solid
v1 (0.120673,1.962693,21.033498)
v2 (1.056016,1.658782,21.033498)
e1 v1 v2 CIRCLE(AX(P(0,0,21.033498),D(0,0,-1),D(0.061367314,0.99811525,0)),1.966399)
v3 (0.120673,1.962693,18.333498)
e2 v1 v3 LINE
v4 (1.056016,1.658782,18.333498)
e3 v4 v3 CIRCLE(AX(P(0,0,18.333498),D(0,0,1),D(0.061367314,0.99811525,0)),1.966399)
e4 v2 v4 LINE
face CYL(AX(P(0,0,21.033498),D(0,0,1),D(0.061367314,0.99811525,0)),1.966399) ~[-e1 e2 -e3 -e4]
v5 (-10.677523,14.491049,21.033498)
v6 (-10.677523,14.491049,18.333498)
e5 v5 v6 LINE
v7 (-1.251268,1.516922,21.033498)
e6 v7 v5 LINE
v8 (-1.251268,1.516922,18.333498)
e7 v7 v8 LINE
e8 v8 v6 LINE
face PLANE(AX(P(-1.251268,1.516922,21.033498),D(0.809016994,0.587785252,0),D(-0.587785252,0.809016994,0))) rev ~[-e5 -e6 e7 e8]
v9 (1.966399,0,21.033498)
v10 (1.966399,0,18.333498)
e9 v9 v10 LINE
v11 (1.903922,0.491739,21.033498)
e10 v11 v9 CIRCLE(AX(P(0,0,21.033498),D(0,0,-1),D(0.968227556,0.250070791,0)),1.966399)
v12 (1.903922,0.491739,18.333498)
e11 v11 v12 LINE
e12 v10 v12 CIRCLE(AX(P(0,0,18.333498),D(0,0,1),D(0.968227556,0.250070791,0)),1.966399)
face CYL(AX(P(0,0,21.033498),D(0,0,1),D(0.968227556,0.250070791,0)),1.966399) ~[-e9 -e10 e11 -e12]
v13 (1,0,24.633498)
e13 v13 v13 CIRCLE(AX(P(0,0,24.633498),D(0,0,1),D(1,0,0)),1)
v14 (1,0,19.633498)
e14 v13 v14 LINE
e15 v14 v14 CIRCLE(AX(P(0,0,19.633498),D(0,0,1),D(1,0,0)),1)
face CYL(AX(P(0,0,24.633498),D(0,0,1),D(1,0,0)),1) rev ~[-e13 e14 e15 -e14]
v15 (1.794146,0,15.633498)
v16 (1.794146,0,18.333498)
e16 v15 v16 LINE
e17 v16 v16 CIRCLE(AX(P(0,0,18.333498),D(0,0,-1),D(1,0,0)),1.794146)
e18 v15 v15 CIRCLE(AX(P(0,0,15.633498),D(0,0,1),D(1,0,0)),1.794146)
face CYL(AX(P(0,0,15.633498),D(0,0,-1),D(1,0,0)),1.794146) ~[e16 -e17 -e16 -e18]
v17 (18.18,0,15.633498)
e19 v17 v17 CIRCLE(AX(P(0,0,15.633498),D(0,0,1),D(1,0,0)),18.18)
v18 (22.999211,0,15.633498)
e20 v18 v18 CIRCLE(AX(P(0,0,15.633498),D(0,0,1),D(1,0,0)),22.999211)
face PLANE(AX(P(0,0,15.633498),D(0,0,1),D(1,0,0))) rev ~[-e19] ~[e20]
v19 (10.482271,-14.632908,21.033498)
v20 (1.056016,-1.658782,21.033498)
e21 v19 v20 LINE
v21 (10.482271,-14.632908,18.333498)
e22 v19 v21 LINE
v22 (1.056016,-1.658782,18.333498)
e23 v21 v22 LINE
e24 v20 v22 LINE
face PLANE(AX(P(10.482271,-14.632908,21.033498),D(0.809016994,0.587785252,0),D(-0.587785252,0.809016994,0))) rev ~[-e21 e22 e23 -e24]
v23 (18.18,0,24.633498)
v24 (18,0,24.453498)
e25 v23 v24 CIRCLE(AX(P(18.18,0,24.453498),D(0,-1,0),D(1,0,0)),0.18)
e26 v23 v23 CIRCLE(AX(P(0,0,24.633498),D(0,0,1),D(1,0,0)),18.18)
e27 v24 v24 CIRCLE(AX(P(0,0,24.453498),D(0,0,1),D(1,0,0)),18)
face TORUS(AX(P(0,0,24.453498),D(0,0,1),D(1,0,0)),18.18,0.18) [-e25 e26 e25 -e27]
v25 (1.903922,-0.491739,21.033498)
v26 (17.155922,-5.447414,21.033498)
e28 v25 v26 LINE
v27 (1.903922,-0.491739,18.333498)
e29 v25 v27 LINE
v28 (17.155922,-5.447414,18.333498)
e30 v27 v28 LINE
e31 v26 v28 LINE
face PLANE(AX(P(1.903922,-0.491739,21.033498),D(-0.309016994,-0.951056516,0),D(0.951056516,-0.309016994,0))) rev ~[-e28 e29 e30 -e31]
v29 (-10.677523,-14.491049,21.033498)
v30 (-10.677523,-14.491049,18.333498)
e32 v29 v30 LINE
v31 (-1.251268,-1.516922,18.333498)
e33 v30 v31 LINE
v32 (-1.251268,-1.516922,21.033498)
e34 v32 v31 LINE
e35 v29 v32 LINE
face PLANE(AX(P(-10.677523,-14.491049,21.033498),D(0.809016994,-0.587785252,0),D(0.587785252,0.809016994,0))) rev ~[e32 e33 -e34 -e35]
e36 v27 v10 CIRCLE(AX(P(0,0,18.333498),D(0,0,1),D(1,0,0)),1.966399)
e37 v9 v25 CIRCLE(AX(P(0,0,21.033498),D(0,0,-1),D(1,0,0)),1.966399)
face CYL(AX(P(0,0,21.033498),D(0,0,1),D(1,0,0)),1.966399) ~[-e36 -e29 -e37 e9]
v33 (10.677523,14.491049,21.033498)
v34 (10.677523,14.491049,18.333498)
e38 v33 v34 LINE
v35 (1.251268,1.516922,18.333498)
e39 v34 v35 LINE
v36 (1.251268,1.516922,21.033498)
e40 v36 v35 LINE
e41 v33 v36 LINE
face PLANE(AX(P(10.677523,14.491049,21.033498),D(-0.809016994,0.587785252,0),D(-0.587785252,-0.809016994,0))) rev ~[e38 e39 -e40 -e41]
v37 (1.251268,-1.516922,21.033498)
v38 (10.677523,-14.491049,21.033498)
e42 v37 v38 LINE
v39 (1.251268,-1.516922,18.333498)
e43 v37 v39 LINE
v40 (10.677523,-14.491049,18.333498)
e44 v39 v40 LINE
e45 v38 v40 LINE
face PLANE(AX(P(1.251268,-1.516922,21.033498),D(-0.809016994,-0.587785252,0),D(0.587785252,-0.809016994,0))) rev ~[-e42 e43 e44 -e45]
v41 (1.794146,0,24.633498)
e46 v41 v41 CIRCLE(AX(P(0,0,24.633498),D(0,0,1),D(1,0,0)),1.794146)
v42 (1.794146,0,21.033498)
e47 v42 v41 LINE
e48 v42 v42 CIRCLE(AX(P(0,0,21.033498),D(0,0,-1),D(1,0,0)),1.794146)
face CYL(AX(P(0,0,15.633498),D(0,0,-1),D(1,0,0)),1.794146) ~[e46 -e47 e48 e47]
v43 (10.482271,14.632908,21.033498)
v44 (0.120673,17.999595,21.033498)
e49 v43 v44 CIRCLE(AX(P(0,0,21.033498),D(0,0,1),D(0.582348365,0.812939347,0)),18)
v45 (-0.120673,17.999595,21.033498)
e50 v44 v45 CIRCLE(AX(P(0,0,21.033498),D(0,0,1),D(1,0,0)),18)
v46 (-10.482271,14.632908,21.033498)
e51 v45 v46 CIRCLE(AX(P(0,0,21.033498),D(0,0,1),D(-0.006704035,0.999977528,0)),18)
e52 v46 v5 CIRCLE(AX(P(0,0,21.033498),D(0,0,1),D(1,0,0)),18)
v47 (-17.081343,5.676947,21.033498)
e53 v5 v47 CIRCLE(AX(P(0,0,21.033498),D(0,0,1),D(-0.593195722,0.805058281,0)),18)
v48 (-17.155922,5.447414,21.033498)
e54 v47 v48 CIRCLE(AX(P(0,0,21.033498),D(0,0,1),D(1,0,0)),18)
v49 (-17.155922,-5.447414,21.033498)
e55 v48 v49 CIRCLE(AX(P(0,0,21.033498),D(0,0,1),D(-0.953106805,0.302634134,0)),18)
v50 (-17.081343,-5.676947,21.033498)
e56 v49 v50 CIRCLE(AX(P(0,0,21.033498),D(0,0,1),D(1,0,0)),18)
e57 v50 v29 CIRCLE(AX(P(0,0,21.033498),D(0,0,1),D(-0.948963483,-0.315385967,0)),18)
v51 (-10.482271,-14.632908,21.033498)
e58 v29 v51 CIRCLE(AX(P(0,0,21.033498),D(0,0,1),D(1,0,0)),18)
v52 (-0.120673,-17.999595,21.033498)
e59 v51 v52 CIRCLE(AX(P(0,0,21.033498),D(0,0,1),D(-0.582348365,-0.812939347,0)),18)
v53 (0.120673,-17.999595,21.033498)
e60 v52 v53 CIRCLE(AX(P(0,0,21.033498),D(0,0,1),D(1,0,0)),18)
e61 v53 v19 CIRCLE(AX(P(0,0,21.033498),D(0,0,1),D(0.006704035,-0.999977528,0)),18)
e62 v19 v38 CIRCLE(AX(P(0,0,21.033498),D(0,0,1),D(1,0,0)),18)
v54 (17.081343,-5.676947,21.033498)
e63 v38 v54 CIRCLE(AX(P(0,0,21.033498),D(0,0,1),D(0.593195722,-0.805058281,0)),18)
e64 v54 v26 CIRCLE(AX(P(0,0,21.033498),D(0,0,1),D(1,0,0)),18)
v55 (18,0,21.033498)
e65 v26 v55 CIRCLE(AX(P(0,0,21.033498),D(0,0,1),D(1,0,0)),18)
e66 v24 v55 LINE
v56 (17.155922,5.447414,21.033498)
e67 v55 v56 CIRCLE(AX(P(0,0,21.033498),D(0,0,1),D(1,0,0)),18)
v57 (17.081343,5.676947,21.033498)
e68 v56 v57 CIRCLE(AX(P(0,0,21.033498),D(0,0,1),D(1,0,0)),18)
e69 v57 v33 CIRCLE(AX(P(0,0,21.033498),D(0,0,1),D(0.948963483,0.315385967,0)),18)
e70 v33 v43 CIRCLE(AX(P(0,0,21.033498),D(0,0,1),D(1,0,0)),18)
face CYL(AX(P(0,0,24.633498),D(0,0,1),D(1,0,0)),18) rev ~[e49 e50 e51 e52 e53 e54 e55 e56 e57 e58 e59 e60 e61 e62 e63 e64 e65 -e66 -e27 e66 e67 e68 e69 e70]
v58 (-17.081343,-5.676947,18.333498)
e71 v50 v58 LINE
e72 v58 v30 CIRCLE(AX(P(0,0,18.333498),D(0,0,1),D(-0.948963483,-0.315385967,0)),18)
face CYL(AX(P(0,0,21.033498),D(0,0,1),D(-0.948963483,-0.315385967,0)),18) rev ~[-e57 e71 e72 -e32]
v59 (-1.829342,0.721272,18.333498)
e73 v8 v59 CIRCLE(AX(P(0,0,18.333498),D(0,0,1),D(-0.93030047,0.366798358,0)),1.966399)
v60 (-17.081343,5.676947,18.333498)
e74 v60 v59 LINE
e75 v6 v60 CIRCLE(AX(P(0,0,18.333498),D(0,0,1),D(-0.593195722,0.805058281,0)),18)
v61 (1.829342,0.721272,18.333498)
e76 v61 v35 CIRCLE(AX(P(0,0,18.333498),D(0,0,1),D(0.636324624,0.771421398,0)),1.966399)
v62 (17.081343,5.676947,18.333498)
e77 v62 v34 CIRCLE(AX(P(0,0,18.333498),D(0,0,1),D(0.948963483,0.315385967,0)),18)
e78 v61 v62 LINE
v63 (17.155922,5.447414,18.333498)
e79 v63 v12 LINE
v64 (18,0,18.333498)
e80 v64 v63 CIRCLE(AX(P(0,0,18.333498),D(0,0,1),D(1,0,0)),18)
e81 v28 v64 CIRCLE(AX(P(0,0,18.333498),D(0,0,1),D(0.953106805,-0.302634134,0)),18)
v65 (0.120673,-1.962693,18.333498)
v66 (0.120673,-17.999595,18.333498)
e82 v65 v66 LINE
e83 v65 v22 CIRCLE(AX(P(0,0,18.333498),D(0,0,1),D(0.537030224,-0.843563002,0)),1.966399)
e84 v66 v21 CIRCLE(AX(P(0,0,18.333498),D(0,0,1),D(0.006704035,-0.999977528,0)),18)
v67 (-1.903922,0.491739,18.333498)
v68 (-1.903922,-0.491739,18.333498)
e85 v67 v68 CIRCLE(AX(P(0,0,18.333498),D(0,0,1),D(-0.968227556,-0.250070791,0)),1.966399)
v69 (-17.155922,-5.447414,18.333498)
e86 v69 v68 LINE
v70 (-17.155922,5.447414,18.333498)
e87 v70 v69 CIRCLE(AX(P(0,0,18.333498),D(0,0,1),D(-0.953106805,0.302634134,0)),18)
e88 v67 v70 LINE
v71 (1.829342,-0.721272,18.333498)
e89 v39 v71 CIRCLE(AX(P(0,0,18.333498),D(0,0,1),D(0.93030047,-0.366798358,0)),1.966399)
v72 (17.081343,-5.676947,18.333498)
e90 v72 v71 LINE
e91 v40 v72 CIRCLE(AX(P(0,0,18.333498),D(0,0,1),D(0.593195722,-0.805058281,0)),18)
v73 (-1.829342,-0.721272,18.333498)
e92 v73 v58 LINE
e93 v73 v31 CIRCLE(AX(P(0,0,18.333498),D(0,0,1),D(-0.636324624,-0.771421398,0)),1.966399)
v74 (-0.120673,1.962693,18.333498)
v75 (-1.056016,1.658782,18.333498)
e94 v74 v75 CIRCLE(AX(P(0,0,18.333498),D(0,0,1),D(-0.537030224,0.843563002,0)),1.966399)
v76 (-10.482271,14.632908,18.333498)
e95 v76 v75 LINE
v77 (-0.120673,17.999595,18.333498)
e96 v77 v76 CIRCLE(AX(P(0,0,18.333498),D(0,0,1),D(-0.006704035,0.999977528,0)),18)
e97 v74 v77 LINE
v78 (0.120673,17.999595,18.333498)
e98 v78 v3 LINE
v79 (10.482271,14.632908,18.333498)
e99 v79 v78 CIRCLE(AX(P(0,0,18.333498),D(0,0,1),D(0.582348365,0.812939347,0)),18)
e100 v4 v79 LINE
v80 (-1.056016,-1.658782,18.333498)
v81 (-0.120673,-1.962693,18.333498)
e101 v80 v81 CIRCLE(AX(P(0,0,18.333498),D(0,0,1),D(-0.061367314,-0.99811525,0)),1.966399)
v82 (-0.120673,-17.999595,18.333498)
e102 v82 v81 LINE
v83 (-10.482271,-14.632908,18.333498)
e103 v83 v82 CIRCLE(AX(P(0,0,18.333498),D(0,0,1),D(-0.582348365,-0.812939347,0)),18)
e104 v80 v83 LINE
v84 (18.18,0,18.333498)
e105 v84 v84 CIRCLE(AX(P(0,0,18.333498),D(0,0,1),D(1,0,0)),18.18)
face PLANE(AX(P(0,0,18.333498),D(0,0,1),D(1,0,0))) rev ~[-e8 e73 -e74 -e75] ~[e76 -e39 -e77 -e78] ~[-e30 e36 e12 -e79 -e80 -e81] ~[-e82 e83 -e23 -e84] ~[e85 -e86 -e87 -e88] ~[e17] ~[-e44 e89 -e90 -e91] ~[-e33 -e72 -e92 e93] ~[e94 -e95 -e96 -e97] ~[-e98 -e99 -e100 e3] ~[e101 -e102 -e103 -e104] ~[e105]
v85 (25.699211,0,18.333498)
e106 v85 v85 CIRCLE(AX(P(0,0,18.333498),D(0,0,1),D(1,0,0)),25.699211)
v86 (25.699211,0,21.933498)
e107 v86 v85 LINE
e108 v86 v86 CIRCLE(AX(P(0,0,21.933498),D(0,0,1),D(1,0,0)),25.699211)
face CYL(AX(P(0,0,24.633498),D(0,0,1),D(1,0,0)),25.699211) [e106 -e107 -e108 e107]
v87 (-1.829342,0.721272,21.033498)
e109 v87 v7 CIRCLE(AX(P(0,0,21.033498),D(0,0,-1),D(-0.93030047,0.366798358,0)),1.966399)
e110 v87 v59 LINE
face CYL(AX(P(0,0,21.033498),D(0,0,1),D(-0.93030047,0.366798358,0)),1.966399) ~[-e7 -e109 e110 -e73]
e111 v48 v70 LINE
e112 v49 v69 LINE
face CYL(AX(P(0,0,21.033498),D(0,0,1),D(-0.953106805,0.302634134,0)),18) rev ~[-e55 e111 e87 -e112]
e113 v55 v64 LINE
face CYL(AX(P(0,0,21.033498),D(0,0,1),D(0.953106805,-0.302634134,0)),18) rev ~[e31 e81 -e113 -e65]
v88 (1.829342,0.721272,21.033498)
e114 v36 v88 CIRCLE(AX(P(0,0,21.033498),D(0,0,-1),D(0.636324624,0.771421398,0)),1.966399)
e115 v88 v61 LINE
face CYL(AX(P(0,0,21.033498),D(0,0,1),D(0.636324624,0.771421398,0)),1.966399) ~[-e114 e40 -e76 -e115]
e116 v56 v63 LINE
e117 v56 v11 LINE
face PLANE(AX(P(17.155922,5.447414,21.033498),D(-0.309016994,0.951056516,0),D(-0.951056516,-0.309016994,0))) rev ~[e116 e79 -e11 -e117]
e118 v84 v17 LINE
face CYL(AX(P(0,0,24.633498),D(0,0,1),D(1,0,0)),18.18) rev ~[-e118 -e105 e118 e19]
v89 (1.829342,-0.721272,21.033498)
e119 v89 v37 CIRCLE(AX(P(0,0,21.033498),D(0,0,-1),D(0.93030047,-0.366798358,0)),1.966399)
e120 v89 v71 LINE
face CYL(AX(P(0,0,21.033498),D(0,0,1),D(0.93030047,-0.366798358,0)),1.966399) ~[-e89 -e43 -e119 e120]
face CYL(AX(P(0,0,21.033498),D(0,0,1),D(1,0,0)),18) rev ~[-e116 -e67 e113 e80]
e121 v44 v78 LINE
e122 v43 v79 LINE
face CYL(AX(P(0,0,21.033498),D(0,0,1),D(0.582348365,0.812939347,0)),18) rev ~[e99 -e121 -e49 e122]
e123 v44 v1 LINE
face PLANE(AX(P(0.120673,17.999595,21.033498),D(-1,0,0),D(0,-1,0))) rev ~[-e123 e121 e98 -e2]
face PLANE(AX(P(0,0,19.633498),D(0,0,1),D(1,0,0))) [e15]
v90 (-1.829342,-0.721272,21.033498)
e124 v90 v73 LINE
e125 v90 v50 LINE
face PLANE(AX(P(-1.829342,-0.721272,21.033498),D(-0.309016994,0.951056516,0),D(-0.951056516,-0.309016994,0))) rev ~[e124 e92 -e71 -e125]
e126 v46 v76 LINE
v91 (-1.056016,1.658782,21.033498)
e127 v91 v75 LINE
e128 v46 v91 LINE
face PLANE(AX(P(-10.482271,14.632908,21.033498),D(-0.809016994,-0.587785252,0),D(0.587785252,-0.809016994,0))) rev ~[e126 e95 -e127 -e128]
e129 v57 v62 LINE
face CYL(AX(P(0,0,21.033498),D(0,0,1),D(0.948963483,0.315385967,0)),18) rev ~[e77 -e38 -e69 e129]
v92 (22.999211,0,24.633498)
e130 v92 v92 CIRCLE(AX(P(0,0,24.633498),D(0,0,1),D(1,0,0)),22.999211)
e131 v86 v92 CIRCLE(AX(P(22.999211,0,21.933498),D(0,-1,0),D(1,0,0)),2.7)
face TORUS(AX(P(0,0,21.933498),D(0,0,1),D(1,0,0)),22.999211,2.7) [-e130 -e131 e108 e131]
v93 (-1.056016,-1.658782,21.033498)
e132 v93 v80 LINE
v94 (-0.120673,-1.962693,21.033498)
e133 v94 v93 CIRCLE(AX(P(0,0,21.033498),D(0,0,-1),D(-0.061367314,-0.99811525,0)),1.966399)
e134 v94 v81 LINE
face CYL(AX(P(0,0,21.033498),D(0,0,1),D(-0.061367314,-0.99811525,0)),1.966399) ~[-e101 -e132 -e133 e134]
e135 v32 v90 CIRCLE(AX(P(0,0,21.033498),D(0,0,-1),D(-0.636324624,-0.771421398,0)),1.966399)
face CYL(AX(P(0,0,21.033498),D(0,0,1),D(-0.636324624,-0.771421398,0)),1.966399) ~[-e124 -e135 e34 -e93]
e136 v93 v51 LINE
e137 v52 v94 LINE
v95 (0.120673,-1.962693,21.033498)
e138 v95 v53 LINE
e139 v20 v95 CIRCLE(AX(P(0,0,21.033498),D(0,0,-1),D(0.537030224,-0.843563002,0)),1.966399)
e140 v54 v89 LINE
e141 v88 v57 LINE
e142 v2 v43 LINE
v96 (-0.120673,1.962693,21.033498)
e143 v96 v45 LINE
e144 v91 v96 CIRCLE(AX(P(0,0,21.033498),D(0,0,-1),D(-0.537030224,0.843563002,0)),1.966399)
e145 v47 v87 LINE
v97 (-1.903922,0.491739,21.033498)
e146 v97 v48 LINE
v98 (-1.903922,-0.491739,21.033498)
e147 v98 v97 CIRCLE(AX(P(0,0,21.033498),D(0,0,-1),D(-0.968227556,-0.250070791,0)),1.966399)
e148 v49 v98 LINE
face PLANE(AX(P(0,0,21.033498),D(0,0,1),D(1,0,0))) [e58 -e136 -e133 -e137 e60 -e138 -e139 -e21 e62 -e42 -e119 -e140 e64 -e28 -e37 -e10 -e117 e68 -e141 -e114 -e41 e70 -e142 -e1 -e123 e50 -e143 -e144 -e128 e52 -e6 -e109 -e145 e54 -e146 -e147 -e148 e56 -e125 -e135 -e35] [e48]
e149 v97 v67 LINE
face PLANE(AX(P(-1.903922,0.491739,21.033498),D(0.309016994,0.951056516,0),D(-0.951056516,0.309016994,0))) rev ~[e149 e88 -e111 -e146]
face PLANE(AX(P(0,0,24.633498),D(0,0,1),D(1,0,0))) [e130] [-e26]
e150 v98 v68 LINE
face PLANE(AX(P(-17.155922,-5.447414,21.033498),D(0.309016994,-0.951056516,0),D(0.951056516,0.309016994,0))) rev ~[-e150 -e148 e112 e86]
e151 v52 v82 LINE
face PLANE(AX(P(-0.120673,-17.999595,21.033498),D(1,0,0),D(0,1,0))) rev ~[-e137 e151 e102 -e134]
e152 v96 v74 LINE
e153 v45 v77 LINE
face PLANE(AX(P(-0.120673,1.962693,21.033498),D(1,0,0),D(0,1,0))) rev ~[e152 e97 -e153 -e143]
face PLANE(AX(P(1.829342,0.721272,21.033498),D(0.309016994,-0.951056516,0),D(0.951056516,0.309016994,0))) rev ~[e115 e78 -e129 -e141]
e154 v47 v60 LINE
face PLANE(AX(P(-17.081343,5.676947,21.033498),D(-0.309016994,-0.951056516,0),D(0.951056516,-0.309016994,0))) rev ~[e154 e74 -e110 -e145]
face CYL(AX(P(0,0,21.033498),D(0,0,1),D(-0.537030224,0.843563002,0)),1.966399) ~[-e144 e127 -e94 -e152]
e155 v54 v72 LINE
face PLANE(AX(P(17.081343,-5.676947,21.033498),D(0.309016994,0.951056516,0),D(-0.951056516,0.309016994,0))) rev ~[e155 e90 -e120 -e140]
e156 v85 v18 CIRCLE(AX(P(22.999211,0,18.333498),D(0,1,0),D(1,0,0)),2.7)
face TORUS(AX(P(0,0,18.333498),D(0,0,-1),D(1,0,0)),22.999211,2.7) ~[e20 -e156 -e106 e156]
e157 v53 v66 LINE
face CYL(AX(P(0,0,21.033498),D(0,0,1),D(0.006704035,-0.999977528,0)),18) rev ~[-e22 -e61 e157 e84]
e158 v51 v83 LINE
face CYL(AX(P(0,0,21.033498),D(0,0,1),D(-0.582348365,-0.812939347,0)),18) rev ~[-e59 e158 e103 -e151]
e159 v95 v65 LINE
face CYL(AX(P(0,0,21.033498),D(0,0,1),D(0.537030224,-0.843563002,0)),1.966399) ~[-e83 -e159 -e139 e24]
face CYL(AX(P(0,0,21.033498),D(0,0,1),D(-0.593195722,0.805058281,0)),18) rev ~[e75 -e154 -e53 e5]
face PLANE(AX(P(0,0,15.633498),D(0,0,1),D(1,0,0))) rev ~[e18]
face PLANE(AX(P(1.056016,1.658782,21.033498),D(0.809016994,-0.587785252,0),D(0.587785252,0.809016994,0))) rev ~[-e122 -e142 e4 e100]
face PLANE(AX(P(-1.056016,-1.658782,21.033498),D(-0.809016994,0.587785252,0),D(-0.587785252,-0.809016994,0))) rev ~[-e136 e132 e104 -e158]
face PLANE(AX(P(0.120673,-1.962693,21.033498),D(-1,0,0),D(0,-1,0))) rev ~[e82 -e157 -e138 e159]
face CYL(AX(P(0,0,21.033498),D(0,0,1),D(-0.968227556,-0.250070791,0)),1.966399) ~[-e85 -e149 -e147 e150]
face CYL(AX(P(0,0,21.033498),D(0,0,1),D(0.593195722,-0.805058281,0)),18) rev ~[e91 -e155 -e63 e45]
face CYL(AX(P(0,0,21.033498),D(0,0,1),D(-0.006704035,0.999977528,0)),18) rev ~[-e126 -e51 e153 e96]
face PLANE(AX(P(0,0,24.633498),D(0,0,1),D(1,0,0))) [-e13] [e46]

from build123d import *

# Parameters (mm, degrees)
CROQUIS1_R                   = 275
SALIENTE_EXTRUIR1_DEPTH      = 70
CROQUIS2_R                   = 200
CORTAR_EXTRUIR1_DEPTH        = 40
CROQUIS5_R                   = 10
CORTAR_EXTRUIR2_DEPTH        = 10
REDONDEO1_R                  = 2
CORTAR_EXTRUIR_L_MINA2_DEPTH = 396.15819617
MATRIZC1_COUNT               = 24
CORTAR_EXTRUIR3_DEPTH        = 150
SALIENTE_EXTRUIR2_DEPTH      = 50
SALIENTE_EXTRUIR2_DEPTH_BACK = 50
CROQUIS12_R                  = 19.934957438
CROQUIS14_R                  = 285.546784005
CROQUIS14_R_2                = 202
SALIENTE_EXTRUIR3_DEPTH      = 100
REDONDEO2_R                  = 30
REDONDEO3_R                  = 30
SCALE1_SCALE                 = 0.5
SCALE2_SCALE                 = 0.1
SCALE3_SCALE                 = 0.2
SCALE4_SCALE                 = 0.3
SCALE5_SCALE                 = 20
SCALE6_SCALE                 = 1.5
SKETCH1_R                    = 1
CUT_EXTRUDE1_DEPTH           = 5


with BuildPart() as part:
    # Croquis1 → Saliente-Extruir1 (new body)
    with BuildSketch(Plane.XY):
        Circle(CROQUIS1_R)
    extrude(amount=SALIENTE_EXTRUIR1_DEPTH)

    # Croquis2 → Cortar-Extruir1 (cut)
    with BuildSketch(Plane.XY.offset(70)):
        Circle(CROQUIS2_R)
    extrude(amount=-CORTAR_EXTRUIR1_DEPTH, mode=Mode.SUBTRACT)

    # Croquis5 → Cortar-Extruir2 (cut)
    with BuildSketch(Plane.XY.offset(30)):
        Circle(CROQUIS5_R)
    extrude(amount=-CORTAR_EXTRUIR2_DEPTH, mode=Mode.SUBTRACT)

    # Redondeo1
    redondeo1_edges = [part.edges().sort_by_distance(p)[0] for p in [
        (-200, 0, 70),
    ]]
    fillet(redondeo1_edges, radius=REDONDEO1_R)

    # Croquis6 → Cortar-Extruir-Lámina2 (cut, through all)
    with BuildSketch(Plane.XY.offset(70)):
        Polygon((-99.341458201, 256.429863086), (-89.226691548, 230.320640663), (-89.319938771, 230.284516496), (-99.434705424, 256.39373892), align=None)
    cortar_extruir_l_mina2 = extrude(amount=-CORTAR_EXTRUIR_L_MINA2_DEPTH, mode=Mode.SUBTRACT)

    # MatrizC1: Cortar-Extruir-Lámina2 ×24 about axis
    matrizc1_axis = Axis((0, 0, 0), (0, 0, 1))
    for i in range(1, MATRIZC1_COUNT):
        add(cortar_extruir_l_mina2.rotate(matrizc1_axis, i * 360 / MATRIZC1_COUNT), mode=Mode.SUBTRACT)

    # Croquis11 → Cortar-Extruir3 (cut)
    with BuildSketch(Plane.XY.offset(30)):
        with BuildLine():
            Line((-13.902980207, 16.854693372), (-118.639144382, 161.011656163))
            ThreePointArc((-118.639144382, 161.011656163), (-161.803398875, 117.557050458), (-189.792696605, 63.077193306))
            Line((-189.792696605, 63.077193306), (-20.326023118, 8.014133235))
            ThreePointArc((-20.326023118, 8.014133235), (-17.676115044, 12.842449309), (-13.902980207, 16.854693372))
        make_face()
        with BuildLine():
            Line((-1.340807064, 21.807700102), (-1.340807064, 199.995505541))
            ThreePointArc((-1.340807064, 199.995505541), (-61.803398875, 190.211303259), (-116.469672981, 162.587869399))
            Line((-116.469672981, 162.587869399), (-11.733508805, 18.430906609))
            ThreePointArc((-11.733508805, 18.430906609), (-6.751675158, 20.779519481), (-1.340807064, 21.807700102))
        make_face()
        with BuildLine():
            Line((11.733508805, 18.430906609), (116.469672981, 162.587869399))
            ThreePointArc((116.469672981, 162.587869399), (61.803398875, 190.211303259), (1.340807064, 199.995505541))
            Line((1.340807064, 199.995505541), (1.340807064, 21.807700102))
            ThreePointArc((1.340807064, 21.807700102), (6.751675158, 20.779519481), (11.733508805, 18.430906609))
        make_face()
        with BuildLine():
            Line((20.326023118, 8.014133235), (189.792696605, 63.077193306))
            ThreePointArc((189.792696605, 63.077193306), (161.803398875, 117.557050458), (118.639144382, 161.011656163))
            Line((118.639144382, 161.011656163), (13.902980207, 16.854693372))
            ThreePointArc((13.902980207, 16.854693372), (17.676115044, 12.842449309), (20.326023118, 8.014133235))
        make_face()
        with BuildLine():
            ThreePointArc((200, 0), (197.641433142, 30.624563763), (190.621360943, 60.526826715))
            Line((190.621360943, 60.526826715), (21.154687456, 5.463766645))
            ThreePointArc((21.154687456, 5.463766645), (21.674636908, 2.75384499), (21.848879772, 0))
            ThreePointArc((21.848879772, 0), (21.674636908, -2.75384499), (21.154687456, -5.463766645))
            Line((21.154687456, -5.463766644), (190.621360943, -60.526826715))
            ThreePointArc((190.621360943, -60.526826715), (197.641433142, -30.624563763), (200, 0))
        make_face()
        with BuildLine():
            ThreePointArc((118.639144382, -161.011656163), (161.803398875, -117.557050458), (189.792696605, -63.077193306))
            Line((189.792696605, -63.077193306), (20.326023118, -8.014133235))
            ThreePointArc((20.326023118, -8.014133235), (17.676115044, -12.842449309), (13.902980207, -16.854693372))
            Line((13.902980207, -16.854693372), (118.639144382, -161.011656163))
        make_face()
        with BuildLine():
            Line((-21.154687456, 5.463766645), (-190.621360943, 60.526826715))
            ThreePointArc((-190.621360943, 60.526826715), (-200, 0), (-190.621360943, -60.526826715))
            Line((-190.621360943, -60.526826715), (-21.154687456, -5.463766644))
            ThreePointArc((-21.154687456, -5.463766644), (-21.848879772, 0), (-21.154687456, 5.463766645))
        make_face()
        with BuildLine():
            ThreePointArc((-189.792696605, -63.077193306), (-161.803398875, -117.557050458), (-118.639144382, -161.011656163))
            Line((-118.639144382, -161.011656163), (-13.902980207, -16.854693372))
            ThreePointArc((-13.902980207, -16.854693372), (-17.676115044, -12.842449309), (-20.326023118, -8.014133235))
            Line((-20.326023118, -8.014133235), (-189.792696605, -63.077193306))
        make_face()
        with BuildLine():
            ThreePointArc((-116.469672981, -162.587869399), (-61.803398875, -190.211303259), (-1.340807064, -199.995505541))
            Line((-1.340807064, -199.995505541), (-1.340807064, -21.807700102))
            ThreePointArc((-1.340807064, -21.807700102), (-6.751675158, -20.779519481), (-11.733508805, -18.430906609))
            Line((-11.733508805, -18.430906609), (-116.469672981, -162.587869399))
        make_face()
        with BuildLine():
            ThreePointArc((1.340807064, -199.995505541), (61.803398875, -190.211303259), (116.469672981, -162.587869399))
            Line((116.469672981, -162.587869399), (11.733508805, -18.430906609))
            ThreePointArc((11.733508805, -18.430906609), (6.751675158, -20.779519481), (1.340807064, -21.807700102))
            Line((1.340807064, -21.807700102), (1.340807064, -199.995505541))
        make_face()
    extrude(amount=-CORTAR_EXTRUIR3_DEPTH, mode=Mode.SUBTRACT)

    # Croquis12 → Saliente-Extruir2 (add, two sides: drawn at the far end of the back side and taken through both)
    with BuildSketch(Plane.XY.offset(20).offset(-SALIENTE_EXTRUIR2_DEPTH_BACK)):
        Circle(CROQUIS12_R)
    extrude(amount=SALIENTE_EXTRUIR2_DEPTH + SALIENTE_EXTRUIR2_DEPTH_BACK)

    # Croquis14 → Saliente-Extruir3 (add)
    with BuildSketch(Plane.XY.offset(70)):
        Circle(CROQUIS14_R)
        Circle(CROQUIS14_R_2, mode=Mode.SUBTRACT)
    extrude(amount=-SALIENTE_EXTRUIR3_DEPTH)

    # Redondeo2
    redondeo2_edges = [part.edges().sort_by_distance(p)[0] for p in [
        (-285.546784005, 0, 70),
    ]]
    fillet(redondeo2_edges, radius=REDONDEO2_R)

    # Redondeo3
    redondeo3_edges = [part.edges().sort_by_distance(p)[0] for p in [
        (-285.546784005, 0, -30),
    ]]
    fillet(redondeo3_edges, radius=REDONDEO3_R)


with BuildPart() as part_1:
    # Scale1: scaled about (0, 0, 20.146701312)
    add(part.part.scale(SCALE1_SCALE).moved(Location((0, 0, 10.073350656))))


with BuildPart() as part_2:
    # Scale2: scaled about (0, 0, 20.146701312)
    add(part_1.part.scale(SCALE2_SCALE).moved(Location((0, 0, 18.132031181))))


with BuildPart() as part_3:
    # Scale3: scaled about (0, 0, 20.146701312)
    add(part_2.part.scale(SCALE3_SCALE).moved(Location((0, 0, 16.11736105))))


with BuildPart() as part_4:
    # Scale4: scaled about (0, 0, 20.146701312)
    add(part_3.part.scale(SCALE4_SCALE).moved(Location((0, 0, 14.102690918))))


with BuildPart() as part_5:
    # Scale5: scaled about (0, 0, 20.146701312)
    add(part_4.part.scale(SCALE5_SCALE).moved(Location((0, 0, -382.787324928))))


with BuildPart() as part_6:
    # Scale6: scaled about (0, 0, 20.146701312)
    add(part_5.part.scale(SCALE6_SCALE).moved(Location((0, 0, -10.073350656))))

    # Sketch1 → Cut-Extrude1 (cut)
    with BuildSketch(Plane.XY.offset(24.633498194)):
        Circle(SKETCH1_R)
    extrude(amount=-CUT_EXTRUDE1_DEPTH, mode=Mode.SUBTRACT)


solid = part_6.part
